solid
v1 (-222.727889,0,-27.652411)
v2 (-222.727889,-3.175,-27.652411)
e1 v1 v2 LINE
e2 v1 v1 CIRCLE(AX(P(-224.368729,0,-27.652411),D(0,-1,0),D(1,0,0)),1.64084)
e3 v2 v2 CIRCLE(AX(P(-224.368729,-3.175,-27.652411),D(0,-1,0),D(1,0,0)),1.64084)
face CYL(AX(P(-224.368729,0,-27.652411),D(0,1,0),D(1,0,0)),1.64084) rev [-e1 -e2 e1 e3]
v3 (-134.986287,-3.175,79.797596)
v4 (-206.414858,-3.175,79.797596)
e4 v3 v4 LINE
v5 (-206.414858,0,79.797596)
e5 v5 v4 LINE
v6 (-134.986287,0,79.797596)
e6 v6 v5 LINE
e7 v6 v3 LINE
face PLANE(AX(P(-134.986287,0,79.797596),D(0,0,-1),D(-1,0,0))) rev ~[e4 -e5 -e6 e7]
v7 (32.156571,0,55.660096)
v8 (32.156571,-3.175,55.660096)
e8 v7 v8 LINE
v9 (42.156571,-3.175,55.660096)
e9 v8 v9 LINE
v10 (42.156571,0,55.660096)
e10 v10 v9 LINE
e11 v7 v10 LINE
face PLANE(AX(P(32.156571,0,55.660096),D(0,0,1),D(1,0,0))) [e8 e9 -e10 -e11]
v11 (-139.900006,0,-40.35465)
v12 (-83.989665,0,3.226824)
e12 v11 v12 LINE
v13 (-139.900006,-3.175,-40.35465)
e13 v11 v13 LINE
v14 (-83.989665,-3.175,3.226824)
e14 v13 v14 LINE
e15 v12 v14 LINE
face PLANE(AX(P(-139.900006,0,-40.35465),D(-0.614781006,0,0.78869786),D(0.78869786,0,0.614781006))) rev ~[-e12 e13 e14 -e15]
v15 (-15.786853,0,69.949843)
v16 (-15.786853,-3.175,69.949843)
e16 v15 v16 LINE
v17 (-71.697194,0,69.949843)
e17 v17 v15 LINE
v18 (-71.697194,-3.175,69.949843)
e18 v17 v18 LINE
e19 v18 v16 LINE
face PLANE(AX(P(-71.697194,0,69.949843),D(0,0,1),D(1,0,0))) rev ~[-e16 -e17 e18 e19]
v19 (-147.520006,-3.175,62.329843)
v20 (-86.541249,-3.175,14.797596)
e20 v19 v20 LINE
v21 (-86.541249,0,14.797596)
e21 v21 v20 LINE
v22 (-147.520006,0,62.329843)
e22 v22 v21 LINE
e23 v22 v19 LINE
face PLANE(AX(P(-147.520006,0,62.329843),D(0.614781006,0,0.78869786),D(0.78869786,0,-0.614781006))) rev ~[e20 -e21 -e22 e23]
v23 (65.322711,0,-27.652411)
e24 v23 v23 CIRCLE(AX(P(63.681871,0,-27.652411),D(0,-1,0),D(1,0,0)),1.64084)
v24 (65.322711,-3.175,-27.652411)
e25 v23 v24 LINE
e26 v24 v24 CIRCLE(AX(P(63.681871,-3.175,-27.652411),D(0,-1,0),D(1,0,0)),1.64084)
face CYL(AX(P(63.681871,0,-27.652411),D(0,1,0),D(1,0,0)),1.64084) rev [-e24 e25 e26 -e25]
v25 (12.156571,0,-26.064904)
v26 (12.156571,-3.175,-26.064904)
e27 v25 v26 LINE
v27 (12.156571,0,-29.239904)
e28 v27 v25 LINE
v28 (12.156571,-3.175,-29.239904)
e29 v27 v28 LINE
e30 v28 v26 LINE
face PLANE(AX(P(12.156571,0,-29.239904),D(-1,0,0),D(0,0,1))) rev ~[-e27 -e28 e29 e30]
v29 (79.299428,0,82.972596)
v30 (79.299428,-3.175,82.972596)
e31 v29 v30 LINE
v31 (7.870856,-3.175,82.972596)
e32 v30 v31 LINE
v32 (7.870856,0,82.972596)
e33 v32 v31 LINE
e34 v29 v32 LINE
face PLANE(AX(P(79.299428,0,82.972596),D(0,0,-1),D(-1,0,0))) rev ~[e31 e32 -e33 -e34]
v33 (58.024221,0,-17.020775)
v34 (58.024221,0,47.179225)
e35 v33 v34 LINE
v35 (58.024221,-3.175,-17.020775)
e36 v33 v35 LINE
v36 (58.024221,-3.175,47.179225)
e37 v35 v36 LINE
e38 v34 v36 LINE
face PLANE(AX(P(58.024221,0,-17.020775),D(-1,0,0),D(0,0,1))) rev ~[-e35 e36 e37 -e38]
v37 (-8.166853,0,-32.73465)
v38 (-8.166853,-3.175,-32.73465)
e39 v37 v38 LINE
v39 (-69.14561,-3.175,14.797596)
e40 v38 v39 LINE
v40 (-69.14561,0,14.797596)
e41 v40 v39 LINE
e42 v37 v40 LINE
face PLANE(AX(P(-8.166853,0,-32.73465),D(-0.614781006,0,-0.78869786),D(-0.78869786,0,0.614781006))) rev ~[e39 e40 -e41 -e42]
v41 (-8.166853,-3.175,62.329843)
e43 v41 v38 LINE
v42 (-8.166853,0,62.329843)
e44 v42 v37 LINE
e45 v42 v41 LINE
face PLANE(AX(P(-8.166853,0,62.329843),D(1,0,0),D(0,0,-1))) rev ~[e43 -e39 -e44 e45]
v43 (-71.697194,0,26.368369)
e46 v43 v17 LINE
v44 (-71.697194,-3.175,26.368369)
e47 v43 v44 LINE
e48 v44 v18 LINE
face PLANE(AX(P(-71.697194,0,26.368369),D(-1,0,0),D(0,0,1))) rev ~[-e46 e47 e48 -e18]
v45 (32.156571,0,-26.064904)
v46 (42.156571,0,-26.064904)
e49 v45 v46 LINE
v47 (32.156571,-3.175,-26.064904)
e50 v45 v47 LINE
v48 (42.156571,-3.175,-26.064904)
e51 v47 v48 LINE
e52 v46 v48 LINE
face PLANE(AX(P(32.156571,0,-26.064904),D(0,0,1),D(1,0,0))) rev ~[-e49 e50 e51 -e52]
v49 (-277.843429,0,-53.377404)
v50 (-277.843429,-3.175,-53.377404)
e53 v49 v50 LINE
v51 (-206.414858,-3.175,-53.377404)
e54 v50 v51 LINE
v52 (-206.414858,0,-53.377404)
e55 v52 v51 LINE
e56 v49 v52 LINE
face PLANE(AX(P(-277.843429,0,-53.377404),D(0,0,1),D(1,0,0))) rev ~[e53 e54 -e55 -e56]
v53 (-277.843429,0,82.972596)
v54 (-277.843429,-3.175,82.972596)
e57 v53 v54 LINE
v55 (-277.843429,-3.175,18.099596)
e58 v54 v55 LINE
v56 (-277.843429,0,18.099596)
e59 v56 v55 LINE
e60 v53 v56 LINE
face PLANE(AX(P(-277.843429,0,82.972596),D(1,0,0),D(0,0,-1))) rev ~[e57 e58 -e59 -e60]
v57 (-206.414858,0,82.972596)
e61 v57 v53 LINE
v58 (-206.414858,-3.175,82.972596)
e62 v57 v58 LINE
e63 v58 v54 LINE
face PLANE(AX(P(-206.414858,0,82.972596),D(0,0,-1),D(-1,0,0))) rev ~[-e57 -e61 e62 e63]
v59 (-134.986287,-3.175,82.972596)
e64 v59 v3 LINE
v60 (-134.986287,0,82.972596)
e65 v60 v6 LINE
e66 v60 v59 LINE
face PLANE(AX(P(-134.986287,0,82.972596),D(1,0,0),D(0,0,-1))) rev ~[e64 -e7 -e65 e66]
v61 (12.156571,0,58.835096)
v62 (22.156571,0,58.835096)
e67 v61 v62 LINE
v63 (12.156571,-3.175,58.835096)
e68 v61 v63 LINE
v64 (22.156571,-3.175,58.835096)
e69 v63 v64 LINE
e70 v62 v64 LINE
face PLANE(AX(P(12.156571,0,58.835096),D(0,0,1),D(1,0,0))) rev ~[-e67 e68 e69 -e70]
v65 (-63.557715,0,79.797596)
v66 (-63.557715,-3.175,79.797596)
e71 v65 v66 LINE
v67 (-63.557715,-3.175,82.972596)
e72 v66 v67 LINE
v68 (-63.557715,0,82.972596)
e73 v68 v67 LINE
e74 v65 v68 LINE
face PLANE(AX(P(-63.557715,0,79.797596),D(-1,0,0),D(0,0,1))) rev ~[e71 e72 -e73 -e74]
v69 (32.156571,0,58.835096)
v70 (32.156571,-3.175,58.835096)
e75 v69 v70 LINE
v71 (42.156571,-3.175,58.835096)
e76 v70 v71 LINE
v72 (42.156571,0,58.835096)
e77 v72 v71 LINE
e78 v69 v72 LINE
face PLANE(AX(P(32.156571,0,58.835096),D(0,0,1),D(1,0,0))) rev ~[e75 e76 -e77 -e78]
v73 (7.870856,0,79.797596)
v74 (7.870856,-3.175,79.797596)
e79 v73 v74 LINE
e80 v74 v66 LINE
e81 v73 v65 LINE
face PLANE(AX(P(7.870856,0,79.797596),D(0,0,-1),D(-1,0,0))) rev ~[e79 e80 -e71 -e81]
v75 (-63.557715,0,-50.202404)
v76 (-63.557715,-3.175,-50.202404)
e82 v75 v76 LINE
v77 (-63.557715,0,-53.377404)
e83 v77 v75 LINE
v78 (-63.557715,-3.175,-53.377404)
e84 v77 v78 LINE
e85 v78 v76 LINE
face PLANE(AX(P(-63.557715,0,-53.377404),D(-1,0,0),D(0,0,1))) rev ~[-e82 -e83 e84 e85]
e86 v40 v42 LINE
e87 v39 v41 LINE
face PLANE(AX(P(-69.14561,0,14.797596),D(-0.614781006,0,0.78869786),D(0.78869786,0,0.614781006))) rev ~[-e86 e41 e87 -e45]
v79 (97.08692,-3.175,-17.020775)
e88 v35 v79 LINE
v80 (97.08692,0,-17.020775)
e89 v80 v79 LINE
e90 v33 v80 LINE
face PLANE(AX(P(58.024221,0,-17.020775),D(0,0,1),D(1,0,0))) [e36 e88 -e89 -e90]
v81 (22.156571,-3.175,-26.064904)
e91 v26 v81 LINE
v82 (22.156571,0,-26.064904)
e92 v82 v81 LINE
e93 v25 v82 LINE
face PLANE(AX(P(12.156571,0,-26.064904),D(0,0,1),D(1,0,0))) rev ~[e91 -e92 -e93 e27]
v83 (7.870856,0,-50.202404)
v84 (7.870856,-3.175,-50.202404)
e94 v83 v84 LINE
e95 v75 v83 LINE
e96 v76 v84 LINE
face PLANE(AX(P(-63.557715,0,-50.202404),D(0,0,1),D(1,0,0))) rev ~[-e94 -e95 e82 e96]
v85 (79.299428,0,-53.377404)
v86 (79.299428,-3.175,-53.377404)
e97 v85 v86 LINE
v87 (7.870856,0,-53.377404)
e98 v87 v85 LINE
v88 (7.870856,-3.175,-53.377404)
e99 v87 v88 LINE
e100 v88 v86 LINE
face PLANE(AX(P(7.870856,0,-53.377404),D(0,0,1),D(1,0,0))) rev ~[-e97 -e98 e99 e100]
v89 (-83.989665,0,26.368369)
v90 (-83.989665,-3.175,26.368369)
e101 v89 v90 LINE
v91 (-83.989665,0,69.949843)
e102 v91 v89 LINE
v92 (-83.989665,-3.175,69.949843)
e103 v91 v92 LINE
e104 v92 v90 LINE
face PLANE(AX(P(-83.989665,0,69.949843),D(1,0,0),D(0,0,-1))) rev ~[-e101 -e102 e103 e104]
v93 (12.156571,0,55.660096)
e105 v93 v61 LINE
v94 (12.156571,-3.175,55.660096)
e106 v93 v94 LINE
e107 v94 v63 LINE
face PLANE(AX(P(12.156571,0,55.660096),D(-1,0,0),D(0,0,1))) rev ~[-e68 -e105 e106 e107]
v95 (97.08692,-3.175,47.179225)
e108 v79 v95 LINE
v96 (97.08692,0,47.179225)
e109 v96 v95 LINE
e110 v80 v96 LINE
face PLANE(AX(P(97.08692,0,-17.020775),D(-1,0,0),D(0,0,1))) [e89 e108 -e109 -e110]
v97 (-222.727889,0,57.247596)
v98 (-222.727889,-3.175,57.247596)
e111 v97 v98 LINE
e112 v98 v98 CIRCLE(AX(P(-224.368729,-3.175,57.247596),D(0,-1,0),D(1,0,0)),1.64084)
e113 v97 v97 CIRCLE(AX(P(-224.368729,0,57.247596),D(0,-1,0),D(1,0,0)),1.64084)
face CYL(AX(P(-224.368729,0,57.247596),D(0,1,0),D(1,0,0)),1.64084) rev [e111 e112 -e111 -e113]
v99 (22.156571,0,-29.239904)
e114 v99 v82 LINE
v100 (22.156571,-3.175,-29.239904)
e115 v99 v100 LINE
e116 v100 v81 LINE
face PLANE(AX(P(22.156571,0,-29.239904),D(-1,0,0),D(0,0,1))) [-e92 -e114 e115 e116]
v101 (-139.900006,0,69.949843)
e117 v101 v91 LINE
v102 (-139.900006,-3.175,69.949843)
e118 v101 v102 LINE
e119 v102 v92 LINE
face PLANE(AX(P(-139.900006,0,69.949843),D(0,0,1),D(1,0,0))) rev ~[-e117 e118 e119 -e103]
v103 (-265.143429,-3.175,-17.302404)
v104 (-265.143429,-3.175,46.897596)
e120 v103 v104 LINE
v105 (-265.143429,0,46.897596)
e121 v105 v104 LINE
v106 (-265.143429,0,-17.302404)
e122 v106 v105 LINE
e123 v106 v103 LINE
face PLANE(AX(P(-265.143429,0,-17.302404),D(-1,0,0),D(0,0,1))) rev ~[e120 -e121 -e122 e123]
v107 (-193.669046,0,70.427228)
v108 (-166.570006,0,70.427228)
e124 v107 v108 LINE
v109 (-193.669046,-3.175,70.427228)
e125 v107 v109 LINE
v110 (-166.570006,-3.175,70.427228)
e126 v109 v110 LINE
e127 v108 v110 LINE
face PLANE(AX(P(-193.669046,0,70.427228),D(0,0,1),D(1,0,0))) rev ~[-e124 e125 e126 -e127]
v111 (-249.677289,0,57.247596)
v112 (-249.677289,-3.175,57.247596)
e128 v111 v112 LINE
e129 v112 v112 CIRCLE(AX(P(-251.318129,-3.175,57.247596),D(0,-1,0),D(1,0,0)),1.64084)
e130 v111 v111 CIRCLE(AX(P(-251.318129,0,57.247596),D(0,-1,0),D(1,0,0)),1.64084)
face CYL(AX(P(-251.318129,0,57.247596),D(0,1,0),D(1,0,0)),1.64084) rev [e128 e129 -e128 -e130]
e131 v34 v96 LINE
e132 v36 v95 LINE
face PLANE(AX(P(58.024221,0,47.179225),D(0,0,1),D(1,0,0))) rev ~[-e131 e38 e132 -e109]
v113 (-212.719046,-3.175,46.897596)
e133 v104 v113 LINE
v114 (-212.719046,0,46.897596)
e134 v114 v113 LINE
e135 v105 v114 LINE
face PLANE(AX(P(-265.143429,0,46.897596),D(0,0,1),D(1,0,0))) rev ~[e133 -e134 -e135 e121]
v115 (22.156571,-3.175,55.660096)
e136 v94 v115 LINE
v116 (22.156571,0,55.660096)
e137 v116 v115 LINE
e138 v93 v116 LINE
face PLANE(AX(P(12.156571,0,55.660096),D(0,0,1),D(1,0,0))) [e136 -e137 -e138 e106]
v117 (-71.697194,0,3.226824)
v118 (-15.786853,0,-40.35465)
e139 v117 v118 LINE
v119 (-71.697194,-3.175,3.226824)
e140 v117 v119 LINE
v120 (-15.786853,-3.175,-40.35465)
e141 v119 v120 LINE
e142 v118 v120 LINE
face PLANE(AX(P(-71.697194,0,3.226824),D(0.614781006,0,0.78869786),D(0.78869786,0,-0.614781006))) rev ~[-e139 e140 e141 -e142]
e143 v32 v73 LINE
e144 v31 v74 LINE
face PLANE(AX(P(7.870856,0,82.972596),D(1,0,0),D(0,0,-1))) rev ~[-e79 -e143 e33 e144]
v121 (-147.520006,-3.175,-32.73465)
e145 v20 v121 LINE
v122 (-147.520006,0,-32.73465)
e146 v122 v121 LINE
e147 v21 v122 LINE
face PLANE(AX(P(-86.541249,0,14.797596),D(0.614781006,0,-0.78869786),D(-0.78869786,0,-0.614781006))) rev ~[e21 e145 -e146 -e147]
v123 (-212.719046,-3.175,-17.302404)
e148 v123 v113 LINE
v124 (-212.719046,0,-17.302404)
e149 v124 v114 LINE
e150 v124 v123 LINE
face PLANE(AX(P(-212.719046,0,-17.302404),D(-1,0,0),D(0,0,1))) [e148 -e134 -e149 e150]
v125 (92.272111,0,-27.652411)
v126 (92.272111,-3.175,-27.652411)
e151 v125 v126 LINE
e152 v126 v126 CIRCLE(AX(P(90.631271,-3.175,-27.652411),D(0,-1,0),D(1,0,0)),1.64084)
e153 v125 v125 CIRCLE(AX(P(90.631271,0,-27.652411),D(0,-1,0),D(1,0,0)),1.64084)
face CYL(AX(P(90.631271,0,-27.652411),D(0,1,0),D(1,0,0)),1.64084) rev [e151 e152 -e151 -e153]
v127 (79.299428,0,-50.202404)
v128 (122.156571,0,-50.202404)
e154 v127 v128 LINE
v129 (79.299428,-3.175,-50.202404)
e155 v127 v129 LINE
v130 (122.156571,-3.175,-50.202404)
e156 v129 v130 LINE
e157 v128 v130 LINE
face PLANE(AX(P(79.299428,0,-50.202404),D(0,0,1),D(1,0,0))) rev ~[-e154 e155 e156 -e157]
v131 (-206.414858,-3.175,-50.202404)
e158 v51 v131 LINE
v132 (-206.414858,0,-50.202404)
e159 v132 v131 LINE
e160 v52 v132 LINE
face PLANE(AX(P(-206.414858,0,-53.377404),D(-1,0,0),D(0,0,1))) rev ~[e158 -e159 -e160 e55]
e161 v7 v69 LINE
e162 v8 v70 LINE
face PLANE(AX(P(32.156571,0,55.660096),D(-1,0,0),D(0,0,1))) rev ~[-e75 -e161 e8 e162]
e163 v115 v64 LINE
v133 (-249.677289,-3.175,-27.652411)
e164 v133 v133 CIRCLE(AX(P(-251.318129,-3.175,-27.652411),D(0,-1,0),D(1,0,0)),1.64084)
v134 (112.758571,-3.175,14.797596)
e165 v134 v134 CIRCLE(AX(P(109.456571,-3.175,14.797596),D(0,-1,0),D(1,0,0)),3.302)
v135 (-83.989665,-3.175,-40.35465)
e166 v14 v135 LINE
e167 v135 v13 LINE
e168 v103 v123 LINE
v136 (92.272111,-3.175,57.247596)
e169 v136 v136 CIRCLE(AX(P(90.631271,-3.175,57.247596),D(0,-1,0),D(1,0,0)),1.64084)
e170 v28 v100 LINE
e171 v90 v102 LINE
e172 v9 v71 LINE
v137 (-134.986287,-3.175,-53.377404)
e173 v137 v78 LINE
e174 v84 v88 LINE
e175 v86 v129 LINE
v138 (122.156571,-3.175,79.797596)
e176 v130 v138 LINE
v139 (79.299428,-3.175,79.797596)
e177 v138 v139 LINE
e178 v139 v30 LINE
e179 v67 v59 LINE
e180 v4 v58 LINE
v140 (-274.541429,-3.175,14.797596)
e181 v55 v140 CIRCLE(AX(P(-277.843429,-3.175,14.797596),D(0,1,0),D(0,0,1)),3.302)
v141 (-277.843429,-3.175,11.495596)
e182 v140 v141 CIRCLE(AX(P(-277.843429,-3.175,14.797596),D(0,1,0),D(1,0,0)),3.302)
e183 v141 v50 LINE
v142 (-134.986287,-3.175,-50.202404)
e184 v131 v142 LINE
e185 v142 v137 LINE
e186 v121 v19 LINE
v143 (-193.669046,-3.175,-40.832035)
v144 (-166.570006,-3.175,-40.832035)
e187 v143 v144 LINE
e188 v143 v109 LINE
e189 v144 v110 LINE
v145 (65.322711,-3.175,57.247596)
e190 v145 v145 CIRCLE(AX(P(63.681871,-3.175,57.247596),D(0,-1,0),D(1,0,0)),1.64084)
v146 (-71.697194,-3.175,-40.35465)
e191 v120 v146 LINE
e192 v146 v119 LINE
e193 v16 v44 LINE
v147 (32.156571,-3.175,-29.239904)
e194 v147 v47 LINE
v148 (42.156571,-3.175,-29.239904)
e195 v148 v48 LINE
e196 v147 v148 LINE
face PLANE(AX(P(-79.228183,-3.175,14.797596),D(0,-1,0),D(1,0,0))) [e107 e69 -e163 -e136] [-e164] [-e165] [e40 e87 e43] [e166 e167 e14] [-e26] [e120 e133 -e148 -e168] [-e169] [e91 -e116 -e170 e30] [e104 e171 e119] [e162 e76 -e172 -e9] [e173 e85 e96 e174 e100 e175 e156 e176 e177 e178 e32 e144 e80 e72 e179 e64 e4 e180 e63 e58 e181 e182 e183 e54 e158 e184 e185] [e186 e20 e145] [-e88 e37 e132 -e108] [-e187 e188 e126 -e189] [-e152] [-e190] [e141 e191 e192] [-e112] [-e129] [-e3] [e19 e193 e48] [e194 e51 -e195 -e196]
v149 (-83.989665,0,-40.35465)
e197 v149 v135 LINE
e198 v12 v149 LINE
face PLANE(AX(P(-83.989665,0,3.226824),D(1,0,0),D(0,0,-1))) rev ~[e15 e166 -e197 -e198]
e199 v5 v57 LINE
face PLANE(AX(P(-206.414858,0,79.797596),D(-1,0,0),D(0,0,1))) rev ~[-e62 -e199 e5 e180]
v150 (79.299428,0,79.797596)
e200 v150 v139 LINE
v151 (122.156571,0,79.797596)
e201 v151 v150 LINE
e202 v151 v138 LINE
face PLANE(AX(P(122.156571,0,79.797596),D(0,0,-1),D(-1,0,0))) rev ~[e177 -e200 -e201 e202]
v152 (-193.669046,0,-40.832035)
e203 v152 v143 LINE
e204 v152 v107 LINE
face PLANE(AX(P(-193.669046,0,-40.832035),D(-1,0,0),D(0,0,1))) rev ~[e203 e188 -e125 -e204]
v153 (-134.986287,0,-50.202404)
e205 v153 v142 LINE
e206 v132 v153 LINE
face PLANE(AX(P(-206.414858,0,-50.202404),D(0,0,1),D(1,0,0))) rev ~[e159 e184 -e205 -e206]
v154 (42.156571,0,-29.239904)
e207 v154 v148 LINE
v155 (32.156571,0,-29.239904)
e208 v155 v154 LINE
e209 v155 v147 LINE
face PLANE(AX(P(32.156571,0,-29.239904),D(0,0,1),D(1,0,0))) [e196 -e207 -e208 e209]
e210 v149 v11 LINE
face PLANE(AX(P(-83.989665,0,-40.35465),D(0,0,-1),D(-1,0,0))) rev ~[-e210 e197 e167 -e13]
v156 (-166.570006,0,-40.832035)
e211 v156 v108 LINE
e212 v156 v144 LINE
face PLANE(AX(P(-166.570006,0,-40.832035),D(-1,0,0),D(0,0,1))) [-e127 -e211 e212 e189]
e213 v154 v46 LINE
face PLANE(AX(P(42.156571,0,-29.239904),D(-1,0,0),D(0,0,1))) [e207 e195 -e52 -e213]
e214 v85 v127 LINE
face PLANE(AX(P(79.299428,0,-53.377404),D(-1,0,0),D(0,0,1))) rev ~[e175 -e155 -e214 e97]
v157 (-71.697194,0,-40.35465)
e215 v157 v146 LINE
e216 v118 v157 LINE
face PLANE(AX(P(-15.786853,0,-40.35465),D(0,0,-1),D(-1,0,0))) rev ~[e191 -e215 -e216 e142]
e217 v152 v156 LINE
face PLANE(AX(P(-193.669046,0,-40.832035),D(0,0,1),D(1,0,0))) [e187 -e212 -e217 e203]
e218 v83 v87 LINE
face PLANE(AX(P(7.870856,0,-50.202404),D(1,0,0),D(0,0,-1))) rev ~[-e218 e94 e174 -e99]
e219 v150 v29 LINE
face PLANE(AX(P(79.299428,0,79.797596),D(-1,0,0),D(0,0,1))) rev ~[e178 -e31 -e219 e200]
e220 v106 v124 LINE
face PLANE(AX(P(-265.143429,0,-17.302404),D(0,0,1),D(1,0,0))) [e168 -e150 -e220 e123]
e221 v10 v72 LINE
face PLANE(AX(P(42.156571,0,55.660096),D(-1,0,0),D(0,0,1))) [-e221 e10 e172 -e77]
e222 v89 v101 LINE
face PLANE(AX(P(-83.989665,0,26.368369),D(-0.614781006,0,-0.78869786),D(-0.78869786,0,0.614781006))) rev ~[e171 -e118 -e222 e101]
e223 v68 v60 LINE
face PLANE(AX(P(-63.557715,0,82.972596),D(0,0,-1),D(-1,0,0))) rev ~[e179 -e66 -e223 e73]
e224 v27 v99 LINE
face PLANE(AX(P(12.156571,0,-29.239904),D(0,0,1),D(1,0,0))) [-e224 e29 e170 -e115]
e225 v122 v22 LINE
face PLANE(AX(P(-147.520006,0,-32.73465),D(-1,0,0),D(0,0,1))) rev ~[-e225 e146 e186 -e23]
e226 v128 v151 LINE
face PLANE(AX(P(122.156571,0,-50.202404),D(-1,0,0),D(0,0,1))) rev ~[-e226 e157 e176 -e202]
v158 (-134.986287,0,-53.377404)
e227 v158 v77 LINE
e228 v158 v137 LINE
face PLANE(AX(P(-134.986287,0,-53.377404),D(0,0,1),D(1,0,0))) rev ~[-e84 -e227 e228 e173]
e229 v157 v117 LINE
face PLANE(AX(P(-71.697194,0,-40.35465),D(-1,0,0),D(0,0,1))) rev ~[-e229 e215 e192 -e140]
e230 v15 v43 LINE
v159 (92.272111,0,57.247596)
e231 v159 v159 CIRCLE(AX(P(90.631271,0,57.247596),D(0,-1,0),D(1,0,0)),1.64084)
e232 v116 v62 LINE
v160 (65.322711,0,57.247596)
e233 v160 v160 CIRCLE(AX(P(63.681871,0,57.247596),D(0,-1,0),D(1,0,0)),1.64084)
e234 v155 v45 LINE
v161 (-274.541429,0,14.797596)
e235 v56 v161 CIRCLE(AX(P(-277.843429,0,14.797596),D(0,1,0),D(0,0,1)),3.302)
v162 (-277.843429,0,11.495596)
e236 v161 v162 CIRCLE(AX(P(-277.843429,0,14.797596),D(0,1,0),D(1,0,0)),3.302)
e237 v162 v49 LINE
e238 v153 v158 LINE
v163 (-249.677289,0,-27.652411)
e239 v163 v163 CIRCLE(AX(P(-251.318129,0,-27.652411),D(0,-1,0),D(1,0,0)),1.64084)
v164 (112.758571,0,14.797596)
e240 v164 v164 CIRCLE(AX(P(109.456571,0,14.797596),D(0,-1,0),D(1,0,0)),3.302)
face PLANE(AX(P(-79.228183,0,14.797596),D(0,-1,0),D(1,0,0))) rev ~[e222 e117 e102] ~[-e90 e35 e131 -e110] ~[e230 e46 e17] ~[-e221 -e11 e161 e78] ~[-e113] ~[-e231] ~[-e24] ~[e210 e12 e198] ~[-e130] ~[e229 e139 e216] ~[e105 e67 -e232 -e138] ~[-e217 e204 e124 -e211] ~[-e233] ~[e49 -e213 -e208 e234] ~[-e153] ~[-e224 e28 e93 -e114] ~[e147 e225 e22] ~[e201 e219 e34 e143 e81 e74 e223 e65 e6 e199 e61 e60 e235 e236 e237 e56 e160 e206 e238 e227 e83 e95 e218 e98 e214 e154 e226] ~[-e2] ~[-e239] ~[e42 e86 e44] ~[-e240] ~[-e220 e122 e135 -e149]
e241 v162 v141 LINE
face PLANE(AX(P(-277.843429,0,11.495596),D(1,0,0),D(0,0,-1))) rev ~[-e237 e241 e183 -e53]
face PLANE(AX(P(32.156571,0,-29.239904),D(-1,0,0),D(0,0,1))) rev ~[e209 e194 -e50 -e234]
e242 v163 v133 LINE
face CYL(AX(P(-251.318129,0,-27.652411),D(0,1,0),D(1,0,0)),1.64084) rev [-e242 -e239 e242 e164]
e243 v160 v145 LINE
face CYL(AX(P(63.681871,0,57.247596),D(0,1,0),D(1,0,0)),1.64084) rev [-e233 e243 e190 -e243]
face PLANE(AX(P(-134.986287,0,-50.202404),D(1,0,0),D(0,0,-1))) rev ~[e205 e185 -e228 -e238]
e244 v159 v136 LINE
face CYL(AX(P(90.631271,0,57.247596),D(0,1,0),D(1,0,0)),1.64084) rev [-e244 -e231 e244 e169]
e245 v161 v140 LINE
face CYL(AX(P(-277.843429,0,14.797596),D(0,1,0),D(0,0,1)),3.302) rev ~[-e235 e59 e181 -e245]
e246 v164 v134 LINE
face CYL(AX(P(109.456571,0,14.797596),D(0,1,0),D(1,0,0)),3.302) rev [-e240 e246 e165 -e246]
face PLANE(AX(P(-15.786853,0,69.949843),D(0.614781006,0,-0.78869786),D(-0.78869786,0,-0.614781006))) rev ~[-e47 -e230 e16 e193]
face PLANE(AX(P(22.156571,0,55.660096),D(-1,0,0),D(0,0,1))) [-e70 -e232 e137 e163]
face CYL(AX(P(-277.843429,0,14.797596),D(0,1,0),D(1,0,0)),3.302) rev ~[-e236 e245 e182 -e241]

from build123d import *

# Parameters (mm, degrees)
F0_R     = 1.64084
F0_W     = 10
F0_H     = 3.175
F0_R_2   = 3.302
F0_W_2   = 52.4243835688
F0_H_2   = 64.2
F0_W_3   = 27.0990398764
F0_H_3   = 111.2592631512
F0_W_4   = 39.0626990616
F1_DEPTH = 3.175


with BuildPart() as f1:
    # F0 (on Front) → F1 (new body)
    with BuildSketch(Plane.XZ):
        with BuildLine():
            Line((79.2994276966, -50.2024036679), (122.1565705538, -50.2024036679))
            Line((122.1565705538, -50.2024036679), (122.1565705538, 79.7975963321))
            Line((122.1565705538, 79.7975963321), (79.2994276966, 79.7975963321))
            Line((79.2994276966, 79.7975963321), (79.2994276966, 82.9725963321))
            Line((79.2994276966, 82.9725963321), (7.870856268, 82.9725963321))
            Line((7.870856268, 82.9725963321), (7.870856268, 79.7975963321))
            Line((7.870856268, 79.7975963321), (-63.5577151605, 79.7975963321))
            Line((-63.5577151605, 79.7975963321), (-63.5577151605, 82.9725963321))
            Line((-63.5577151605, 82.9725963321), (-134.9862865891, 82.9725963321))
            Line((-134.9862865891, 82.9725963321), (-134.9862865891, 79.7975963321))
            Line((-134.9862865891, 79.7975963321), (-206.4148580177, 79.7975963321))
            Line((-206.4148580177, 79.7975963321), (-206.4148580177, 82.9725963321))
            Line((-206.4148580177, 82.9725963321), (-277.8434294462, 82.9725963321))
            Line((-277.8434294462, 82.9725963321), (-277.8434294462, 79.7975963321))
            Line((-277.8434294462, 79.7975963321), (-277.8434294462, 18.0995963321))
            ThreePointArc((-277.8434294462, 18.0995963321), (-275.5085628548, 17.1324629236), (-274.5414294462, 14.7975963321))
            ThreePointArc((-274.5414294462, 14.7975963321), (-275.5085628548, 12.4627297406), (-277.8434294462, 11.4955963321))
            Line((-277.8434294462, 11.4955963321), (-277.8434294462, -50.2024036679))
            Line((-277.8434294462, -50.2024036679), (-277.8434294462, -53.3774036679))
            Line((-277.8434294462, -53.3774036679), (-206.4148580177, -53.3774036679))
            Line((-206.4148580177, -53.3774036679), (-206.4148580177, -50.2024036679))
            Line((-206.4148580177, -50.2024036679), (-134.9862865891, -50.2024036679))
            Line((-134.9862865891, -50.2024036679), (-134.9862865891, -53.3774036679))
            Line((-134.9862865891, -53.3774036679), (-63.5577151605, -53.3774036679))
            Line((-63.5577151605, -53.3774036679), (-63.5577151605, -50.2024036679))
            Line((-63.5577151605, -50.2024036679), (7.870856268, -50.2024036679))
            Line((7.870856268, -50.2024036679), (7.870856268, -53.3774036679))
            Line((7.870856268, -53.3774036679), (79.2994276966, -53.3774036679))
            Line((79.2994276966, -53.3774036679), (79.2994276966, -50.2024036679))
        make_face()
        with Locations((-251.3181294462, -27.6524106679)):
            Circle(F0_R, mode=Mode.SUBTRACT)
        with Locations((-224.3687294462, -27.6524106679)):
            Circle(F0_R, mode=Mode.SUBTRACT)
        with Locations((17.1565705538, -27.6524036679)):
            Rectangle(F0_W, F0_H, mode=Mode.SUBTRACT)
        with Locations((37.1565705538, -27.6524036679)):
            Rectangle(F0_W, F0_H, mode=Mode.SUBTRACT)
        with Locations((63.6818705538, -27.6524106672)):
            Circle(F0_R, mode=Mode.SUBTRACT)
        with Locations((90.6312705538, -27.6524106672)):
            Circle(F0_R, mode=Mode.SUBTRACT)
        Polygon((-8.1668528914, -32.7346504676), (-8.1668528914, -40.3546504676), (-15.7868528914, -40.3546504676), (-71.6971936822, -40.3546504676), (-83.9896652103, -40.3546504676), (-139.900006001, -40.3546504676), (-147.520006001, -40.3546504676), (-147.520006001, -32.7346504676), (-147.520006001, 62.3298431318), (-147.520006001, 69.9498431318), (-139.900006001, 69.9498431318), (-83.9896652103, 69.9498431318), (-71.6971936822, 69.9498431318), (-15.7868528915, 69.9498431318), (-8.1668528914, 69.9498431318), (-8.1668528914, 62.3298431318), align=None, mode=Mode.SUBTRACT)
        with Locations((109.4565705538, 14.7975963321)):
            Circle(F0_R_2, mode=Mode.SUBTRACT)
        with Locations((-238.9312376618, 14.7975963321)):
            Rectangle(F0_W_2, F0_H_2, mode=Mode.SUBTRACT)
        with Locations((-180.1195259392, 14.7975963321)):
            Rectangle(F0_W_3, F0_H_3, mode=Mode.SUBTRACT)
        with Locations((-251.3181294462, 57.2475963321)):
            Circle(F0_R, mode=Mode.SUBTRACT)
        with Locations((-224.3687294462, 57.2475963321)):
            Circle(F0_R, mode=Mode.SUBTRACT)
        with Locations((77.5555704206, 15.0792245534)):
            Rectangle(F0_W_4, F0_H_2, mode=Mode.SUBTRACT)
        with Locations((17.1565705538, 57.2475963321)):
            Rectangle(F0_W, F0_H, mode=Mode.SUBTRACT)
        with Locations((37.1565705538, 57.2475963321)):
            Rectangle(F0_W, F0_H, mode=Mode.SUBTRACT)
        with Locations((63.6818705538, 57.2475963321)):
            Circle(F0_R, mode=Mode.SUBTRACT)
        with Locations((90.6312705538, 57.2475963321)):
            Circle(F0_R, mode=Mode.SUBTRACT)
        Polygon((-147.520006001, 62.3298431318), (-86.5412493668, 14.7975963321), (-83.9896652103, 16.7865271426), (-83.9896652103, 26.3683687987), (-139.900006001, 69.9498431318), (-147.520006001, 69.9498431318), align=None)
        Polygon((-69.1456095257, 14.7975963321), (-8.1668528915, 62.3298431318), (-8.1668528914, 69.9498431318), (-15.7868528915, 69.9498431318), (-71.6971936822, 26.3683687987), (-71.6971936822, 16.7865271426), align=None)
        Polygon((-15.7868528914, -40.3546504676), (-8.1668528914, -40.3546504676), (-8.1668528914, -32.7346504676), (-69.1456095257, 14.7975963321), (-71.6971936822, 12.8086655216), (-71.6971936822, 3.2268238655), align=None)
        Polygon((-147.520006001, -40.3546504676), (-139.900006001, -40.3546504676), (-83.9896652103, 3.2268238655), (-83.9896652103, 12.8086655216), (-86.5412493668, 14.7975963321), (-147.520006001, -32.7346504676), align=None)
        Polygon((-83.9896652103, -40.3546504676), (-71.6971936822, -40.3546504676), (-71.6971936822, 3.2268238655), (-77.8434294462, 8.0177446936), (-83.9896652103, 3.2268238655), align=None)
        Polygon((-77.8434294462, 8.0177446936), (-71.6971936822, 3.2268238655), (-71.6971936822, 12.8086655216), align=None)
        Polygon((-83.9896652103, 3.2268238655), (-77.8434294462, 8.0177446936), (-83.9896652103, 12.8086655216), align=None)
        Polygon((-86.5412493668, 14.7975963321), (-83.9896652103, 12.8086655216), (-83.9896652103, 16.7865271426), align=None)
        Polygon((-83.9896652103, 12.8086655216), (-77.8434294462, 8.0177446936), (-71.6971936822, 12.8086655216), (-71.6971936822, 16.7865271426), (-77.8434294462, 21.5774479707), (-83.9896652103, 16.7865271426), align=None)
        Polygon((-77.8434294462, 21.5774479707), (-71.6971936822, 16.7865271426), (-71.6971936822, 26.3683687987), align=None)
        Polygon((-83.9896652103, 16.7865271426), (-77.8434294462, 21.5774479707), (-83.9896652103, 26.3683687987), align=None)
        Polygon((-83.9896652103, 26.3683687987), (-77.8434294462, 21.5774479707), (-71.6971936822, 26.3683687987), (-71.6971936822, 69.9498431318), (-83.9896652103, 69.9498431318), align=None)
        Polygon((-71.6971936822, 12.8086655216), (-69.1456095257, 14.7975963321), (-71.6971936822, 16.7865271426), align=None)
    extrude(amount=F1_DEPTH)


solid = f1.part
